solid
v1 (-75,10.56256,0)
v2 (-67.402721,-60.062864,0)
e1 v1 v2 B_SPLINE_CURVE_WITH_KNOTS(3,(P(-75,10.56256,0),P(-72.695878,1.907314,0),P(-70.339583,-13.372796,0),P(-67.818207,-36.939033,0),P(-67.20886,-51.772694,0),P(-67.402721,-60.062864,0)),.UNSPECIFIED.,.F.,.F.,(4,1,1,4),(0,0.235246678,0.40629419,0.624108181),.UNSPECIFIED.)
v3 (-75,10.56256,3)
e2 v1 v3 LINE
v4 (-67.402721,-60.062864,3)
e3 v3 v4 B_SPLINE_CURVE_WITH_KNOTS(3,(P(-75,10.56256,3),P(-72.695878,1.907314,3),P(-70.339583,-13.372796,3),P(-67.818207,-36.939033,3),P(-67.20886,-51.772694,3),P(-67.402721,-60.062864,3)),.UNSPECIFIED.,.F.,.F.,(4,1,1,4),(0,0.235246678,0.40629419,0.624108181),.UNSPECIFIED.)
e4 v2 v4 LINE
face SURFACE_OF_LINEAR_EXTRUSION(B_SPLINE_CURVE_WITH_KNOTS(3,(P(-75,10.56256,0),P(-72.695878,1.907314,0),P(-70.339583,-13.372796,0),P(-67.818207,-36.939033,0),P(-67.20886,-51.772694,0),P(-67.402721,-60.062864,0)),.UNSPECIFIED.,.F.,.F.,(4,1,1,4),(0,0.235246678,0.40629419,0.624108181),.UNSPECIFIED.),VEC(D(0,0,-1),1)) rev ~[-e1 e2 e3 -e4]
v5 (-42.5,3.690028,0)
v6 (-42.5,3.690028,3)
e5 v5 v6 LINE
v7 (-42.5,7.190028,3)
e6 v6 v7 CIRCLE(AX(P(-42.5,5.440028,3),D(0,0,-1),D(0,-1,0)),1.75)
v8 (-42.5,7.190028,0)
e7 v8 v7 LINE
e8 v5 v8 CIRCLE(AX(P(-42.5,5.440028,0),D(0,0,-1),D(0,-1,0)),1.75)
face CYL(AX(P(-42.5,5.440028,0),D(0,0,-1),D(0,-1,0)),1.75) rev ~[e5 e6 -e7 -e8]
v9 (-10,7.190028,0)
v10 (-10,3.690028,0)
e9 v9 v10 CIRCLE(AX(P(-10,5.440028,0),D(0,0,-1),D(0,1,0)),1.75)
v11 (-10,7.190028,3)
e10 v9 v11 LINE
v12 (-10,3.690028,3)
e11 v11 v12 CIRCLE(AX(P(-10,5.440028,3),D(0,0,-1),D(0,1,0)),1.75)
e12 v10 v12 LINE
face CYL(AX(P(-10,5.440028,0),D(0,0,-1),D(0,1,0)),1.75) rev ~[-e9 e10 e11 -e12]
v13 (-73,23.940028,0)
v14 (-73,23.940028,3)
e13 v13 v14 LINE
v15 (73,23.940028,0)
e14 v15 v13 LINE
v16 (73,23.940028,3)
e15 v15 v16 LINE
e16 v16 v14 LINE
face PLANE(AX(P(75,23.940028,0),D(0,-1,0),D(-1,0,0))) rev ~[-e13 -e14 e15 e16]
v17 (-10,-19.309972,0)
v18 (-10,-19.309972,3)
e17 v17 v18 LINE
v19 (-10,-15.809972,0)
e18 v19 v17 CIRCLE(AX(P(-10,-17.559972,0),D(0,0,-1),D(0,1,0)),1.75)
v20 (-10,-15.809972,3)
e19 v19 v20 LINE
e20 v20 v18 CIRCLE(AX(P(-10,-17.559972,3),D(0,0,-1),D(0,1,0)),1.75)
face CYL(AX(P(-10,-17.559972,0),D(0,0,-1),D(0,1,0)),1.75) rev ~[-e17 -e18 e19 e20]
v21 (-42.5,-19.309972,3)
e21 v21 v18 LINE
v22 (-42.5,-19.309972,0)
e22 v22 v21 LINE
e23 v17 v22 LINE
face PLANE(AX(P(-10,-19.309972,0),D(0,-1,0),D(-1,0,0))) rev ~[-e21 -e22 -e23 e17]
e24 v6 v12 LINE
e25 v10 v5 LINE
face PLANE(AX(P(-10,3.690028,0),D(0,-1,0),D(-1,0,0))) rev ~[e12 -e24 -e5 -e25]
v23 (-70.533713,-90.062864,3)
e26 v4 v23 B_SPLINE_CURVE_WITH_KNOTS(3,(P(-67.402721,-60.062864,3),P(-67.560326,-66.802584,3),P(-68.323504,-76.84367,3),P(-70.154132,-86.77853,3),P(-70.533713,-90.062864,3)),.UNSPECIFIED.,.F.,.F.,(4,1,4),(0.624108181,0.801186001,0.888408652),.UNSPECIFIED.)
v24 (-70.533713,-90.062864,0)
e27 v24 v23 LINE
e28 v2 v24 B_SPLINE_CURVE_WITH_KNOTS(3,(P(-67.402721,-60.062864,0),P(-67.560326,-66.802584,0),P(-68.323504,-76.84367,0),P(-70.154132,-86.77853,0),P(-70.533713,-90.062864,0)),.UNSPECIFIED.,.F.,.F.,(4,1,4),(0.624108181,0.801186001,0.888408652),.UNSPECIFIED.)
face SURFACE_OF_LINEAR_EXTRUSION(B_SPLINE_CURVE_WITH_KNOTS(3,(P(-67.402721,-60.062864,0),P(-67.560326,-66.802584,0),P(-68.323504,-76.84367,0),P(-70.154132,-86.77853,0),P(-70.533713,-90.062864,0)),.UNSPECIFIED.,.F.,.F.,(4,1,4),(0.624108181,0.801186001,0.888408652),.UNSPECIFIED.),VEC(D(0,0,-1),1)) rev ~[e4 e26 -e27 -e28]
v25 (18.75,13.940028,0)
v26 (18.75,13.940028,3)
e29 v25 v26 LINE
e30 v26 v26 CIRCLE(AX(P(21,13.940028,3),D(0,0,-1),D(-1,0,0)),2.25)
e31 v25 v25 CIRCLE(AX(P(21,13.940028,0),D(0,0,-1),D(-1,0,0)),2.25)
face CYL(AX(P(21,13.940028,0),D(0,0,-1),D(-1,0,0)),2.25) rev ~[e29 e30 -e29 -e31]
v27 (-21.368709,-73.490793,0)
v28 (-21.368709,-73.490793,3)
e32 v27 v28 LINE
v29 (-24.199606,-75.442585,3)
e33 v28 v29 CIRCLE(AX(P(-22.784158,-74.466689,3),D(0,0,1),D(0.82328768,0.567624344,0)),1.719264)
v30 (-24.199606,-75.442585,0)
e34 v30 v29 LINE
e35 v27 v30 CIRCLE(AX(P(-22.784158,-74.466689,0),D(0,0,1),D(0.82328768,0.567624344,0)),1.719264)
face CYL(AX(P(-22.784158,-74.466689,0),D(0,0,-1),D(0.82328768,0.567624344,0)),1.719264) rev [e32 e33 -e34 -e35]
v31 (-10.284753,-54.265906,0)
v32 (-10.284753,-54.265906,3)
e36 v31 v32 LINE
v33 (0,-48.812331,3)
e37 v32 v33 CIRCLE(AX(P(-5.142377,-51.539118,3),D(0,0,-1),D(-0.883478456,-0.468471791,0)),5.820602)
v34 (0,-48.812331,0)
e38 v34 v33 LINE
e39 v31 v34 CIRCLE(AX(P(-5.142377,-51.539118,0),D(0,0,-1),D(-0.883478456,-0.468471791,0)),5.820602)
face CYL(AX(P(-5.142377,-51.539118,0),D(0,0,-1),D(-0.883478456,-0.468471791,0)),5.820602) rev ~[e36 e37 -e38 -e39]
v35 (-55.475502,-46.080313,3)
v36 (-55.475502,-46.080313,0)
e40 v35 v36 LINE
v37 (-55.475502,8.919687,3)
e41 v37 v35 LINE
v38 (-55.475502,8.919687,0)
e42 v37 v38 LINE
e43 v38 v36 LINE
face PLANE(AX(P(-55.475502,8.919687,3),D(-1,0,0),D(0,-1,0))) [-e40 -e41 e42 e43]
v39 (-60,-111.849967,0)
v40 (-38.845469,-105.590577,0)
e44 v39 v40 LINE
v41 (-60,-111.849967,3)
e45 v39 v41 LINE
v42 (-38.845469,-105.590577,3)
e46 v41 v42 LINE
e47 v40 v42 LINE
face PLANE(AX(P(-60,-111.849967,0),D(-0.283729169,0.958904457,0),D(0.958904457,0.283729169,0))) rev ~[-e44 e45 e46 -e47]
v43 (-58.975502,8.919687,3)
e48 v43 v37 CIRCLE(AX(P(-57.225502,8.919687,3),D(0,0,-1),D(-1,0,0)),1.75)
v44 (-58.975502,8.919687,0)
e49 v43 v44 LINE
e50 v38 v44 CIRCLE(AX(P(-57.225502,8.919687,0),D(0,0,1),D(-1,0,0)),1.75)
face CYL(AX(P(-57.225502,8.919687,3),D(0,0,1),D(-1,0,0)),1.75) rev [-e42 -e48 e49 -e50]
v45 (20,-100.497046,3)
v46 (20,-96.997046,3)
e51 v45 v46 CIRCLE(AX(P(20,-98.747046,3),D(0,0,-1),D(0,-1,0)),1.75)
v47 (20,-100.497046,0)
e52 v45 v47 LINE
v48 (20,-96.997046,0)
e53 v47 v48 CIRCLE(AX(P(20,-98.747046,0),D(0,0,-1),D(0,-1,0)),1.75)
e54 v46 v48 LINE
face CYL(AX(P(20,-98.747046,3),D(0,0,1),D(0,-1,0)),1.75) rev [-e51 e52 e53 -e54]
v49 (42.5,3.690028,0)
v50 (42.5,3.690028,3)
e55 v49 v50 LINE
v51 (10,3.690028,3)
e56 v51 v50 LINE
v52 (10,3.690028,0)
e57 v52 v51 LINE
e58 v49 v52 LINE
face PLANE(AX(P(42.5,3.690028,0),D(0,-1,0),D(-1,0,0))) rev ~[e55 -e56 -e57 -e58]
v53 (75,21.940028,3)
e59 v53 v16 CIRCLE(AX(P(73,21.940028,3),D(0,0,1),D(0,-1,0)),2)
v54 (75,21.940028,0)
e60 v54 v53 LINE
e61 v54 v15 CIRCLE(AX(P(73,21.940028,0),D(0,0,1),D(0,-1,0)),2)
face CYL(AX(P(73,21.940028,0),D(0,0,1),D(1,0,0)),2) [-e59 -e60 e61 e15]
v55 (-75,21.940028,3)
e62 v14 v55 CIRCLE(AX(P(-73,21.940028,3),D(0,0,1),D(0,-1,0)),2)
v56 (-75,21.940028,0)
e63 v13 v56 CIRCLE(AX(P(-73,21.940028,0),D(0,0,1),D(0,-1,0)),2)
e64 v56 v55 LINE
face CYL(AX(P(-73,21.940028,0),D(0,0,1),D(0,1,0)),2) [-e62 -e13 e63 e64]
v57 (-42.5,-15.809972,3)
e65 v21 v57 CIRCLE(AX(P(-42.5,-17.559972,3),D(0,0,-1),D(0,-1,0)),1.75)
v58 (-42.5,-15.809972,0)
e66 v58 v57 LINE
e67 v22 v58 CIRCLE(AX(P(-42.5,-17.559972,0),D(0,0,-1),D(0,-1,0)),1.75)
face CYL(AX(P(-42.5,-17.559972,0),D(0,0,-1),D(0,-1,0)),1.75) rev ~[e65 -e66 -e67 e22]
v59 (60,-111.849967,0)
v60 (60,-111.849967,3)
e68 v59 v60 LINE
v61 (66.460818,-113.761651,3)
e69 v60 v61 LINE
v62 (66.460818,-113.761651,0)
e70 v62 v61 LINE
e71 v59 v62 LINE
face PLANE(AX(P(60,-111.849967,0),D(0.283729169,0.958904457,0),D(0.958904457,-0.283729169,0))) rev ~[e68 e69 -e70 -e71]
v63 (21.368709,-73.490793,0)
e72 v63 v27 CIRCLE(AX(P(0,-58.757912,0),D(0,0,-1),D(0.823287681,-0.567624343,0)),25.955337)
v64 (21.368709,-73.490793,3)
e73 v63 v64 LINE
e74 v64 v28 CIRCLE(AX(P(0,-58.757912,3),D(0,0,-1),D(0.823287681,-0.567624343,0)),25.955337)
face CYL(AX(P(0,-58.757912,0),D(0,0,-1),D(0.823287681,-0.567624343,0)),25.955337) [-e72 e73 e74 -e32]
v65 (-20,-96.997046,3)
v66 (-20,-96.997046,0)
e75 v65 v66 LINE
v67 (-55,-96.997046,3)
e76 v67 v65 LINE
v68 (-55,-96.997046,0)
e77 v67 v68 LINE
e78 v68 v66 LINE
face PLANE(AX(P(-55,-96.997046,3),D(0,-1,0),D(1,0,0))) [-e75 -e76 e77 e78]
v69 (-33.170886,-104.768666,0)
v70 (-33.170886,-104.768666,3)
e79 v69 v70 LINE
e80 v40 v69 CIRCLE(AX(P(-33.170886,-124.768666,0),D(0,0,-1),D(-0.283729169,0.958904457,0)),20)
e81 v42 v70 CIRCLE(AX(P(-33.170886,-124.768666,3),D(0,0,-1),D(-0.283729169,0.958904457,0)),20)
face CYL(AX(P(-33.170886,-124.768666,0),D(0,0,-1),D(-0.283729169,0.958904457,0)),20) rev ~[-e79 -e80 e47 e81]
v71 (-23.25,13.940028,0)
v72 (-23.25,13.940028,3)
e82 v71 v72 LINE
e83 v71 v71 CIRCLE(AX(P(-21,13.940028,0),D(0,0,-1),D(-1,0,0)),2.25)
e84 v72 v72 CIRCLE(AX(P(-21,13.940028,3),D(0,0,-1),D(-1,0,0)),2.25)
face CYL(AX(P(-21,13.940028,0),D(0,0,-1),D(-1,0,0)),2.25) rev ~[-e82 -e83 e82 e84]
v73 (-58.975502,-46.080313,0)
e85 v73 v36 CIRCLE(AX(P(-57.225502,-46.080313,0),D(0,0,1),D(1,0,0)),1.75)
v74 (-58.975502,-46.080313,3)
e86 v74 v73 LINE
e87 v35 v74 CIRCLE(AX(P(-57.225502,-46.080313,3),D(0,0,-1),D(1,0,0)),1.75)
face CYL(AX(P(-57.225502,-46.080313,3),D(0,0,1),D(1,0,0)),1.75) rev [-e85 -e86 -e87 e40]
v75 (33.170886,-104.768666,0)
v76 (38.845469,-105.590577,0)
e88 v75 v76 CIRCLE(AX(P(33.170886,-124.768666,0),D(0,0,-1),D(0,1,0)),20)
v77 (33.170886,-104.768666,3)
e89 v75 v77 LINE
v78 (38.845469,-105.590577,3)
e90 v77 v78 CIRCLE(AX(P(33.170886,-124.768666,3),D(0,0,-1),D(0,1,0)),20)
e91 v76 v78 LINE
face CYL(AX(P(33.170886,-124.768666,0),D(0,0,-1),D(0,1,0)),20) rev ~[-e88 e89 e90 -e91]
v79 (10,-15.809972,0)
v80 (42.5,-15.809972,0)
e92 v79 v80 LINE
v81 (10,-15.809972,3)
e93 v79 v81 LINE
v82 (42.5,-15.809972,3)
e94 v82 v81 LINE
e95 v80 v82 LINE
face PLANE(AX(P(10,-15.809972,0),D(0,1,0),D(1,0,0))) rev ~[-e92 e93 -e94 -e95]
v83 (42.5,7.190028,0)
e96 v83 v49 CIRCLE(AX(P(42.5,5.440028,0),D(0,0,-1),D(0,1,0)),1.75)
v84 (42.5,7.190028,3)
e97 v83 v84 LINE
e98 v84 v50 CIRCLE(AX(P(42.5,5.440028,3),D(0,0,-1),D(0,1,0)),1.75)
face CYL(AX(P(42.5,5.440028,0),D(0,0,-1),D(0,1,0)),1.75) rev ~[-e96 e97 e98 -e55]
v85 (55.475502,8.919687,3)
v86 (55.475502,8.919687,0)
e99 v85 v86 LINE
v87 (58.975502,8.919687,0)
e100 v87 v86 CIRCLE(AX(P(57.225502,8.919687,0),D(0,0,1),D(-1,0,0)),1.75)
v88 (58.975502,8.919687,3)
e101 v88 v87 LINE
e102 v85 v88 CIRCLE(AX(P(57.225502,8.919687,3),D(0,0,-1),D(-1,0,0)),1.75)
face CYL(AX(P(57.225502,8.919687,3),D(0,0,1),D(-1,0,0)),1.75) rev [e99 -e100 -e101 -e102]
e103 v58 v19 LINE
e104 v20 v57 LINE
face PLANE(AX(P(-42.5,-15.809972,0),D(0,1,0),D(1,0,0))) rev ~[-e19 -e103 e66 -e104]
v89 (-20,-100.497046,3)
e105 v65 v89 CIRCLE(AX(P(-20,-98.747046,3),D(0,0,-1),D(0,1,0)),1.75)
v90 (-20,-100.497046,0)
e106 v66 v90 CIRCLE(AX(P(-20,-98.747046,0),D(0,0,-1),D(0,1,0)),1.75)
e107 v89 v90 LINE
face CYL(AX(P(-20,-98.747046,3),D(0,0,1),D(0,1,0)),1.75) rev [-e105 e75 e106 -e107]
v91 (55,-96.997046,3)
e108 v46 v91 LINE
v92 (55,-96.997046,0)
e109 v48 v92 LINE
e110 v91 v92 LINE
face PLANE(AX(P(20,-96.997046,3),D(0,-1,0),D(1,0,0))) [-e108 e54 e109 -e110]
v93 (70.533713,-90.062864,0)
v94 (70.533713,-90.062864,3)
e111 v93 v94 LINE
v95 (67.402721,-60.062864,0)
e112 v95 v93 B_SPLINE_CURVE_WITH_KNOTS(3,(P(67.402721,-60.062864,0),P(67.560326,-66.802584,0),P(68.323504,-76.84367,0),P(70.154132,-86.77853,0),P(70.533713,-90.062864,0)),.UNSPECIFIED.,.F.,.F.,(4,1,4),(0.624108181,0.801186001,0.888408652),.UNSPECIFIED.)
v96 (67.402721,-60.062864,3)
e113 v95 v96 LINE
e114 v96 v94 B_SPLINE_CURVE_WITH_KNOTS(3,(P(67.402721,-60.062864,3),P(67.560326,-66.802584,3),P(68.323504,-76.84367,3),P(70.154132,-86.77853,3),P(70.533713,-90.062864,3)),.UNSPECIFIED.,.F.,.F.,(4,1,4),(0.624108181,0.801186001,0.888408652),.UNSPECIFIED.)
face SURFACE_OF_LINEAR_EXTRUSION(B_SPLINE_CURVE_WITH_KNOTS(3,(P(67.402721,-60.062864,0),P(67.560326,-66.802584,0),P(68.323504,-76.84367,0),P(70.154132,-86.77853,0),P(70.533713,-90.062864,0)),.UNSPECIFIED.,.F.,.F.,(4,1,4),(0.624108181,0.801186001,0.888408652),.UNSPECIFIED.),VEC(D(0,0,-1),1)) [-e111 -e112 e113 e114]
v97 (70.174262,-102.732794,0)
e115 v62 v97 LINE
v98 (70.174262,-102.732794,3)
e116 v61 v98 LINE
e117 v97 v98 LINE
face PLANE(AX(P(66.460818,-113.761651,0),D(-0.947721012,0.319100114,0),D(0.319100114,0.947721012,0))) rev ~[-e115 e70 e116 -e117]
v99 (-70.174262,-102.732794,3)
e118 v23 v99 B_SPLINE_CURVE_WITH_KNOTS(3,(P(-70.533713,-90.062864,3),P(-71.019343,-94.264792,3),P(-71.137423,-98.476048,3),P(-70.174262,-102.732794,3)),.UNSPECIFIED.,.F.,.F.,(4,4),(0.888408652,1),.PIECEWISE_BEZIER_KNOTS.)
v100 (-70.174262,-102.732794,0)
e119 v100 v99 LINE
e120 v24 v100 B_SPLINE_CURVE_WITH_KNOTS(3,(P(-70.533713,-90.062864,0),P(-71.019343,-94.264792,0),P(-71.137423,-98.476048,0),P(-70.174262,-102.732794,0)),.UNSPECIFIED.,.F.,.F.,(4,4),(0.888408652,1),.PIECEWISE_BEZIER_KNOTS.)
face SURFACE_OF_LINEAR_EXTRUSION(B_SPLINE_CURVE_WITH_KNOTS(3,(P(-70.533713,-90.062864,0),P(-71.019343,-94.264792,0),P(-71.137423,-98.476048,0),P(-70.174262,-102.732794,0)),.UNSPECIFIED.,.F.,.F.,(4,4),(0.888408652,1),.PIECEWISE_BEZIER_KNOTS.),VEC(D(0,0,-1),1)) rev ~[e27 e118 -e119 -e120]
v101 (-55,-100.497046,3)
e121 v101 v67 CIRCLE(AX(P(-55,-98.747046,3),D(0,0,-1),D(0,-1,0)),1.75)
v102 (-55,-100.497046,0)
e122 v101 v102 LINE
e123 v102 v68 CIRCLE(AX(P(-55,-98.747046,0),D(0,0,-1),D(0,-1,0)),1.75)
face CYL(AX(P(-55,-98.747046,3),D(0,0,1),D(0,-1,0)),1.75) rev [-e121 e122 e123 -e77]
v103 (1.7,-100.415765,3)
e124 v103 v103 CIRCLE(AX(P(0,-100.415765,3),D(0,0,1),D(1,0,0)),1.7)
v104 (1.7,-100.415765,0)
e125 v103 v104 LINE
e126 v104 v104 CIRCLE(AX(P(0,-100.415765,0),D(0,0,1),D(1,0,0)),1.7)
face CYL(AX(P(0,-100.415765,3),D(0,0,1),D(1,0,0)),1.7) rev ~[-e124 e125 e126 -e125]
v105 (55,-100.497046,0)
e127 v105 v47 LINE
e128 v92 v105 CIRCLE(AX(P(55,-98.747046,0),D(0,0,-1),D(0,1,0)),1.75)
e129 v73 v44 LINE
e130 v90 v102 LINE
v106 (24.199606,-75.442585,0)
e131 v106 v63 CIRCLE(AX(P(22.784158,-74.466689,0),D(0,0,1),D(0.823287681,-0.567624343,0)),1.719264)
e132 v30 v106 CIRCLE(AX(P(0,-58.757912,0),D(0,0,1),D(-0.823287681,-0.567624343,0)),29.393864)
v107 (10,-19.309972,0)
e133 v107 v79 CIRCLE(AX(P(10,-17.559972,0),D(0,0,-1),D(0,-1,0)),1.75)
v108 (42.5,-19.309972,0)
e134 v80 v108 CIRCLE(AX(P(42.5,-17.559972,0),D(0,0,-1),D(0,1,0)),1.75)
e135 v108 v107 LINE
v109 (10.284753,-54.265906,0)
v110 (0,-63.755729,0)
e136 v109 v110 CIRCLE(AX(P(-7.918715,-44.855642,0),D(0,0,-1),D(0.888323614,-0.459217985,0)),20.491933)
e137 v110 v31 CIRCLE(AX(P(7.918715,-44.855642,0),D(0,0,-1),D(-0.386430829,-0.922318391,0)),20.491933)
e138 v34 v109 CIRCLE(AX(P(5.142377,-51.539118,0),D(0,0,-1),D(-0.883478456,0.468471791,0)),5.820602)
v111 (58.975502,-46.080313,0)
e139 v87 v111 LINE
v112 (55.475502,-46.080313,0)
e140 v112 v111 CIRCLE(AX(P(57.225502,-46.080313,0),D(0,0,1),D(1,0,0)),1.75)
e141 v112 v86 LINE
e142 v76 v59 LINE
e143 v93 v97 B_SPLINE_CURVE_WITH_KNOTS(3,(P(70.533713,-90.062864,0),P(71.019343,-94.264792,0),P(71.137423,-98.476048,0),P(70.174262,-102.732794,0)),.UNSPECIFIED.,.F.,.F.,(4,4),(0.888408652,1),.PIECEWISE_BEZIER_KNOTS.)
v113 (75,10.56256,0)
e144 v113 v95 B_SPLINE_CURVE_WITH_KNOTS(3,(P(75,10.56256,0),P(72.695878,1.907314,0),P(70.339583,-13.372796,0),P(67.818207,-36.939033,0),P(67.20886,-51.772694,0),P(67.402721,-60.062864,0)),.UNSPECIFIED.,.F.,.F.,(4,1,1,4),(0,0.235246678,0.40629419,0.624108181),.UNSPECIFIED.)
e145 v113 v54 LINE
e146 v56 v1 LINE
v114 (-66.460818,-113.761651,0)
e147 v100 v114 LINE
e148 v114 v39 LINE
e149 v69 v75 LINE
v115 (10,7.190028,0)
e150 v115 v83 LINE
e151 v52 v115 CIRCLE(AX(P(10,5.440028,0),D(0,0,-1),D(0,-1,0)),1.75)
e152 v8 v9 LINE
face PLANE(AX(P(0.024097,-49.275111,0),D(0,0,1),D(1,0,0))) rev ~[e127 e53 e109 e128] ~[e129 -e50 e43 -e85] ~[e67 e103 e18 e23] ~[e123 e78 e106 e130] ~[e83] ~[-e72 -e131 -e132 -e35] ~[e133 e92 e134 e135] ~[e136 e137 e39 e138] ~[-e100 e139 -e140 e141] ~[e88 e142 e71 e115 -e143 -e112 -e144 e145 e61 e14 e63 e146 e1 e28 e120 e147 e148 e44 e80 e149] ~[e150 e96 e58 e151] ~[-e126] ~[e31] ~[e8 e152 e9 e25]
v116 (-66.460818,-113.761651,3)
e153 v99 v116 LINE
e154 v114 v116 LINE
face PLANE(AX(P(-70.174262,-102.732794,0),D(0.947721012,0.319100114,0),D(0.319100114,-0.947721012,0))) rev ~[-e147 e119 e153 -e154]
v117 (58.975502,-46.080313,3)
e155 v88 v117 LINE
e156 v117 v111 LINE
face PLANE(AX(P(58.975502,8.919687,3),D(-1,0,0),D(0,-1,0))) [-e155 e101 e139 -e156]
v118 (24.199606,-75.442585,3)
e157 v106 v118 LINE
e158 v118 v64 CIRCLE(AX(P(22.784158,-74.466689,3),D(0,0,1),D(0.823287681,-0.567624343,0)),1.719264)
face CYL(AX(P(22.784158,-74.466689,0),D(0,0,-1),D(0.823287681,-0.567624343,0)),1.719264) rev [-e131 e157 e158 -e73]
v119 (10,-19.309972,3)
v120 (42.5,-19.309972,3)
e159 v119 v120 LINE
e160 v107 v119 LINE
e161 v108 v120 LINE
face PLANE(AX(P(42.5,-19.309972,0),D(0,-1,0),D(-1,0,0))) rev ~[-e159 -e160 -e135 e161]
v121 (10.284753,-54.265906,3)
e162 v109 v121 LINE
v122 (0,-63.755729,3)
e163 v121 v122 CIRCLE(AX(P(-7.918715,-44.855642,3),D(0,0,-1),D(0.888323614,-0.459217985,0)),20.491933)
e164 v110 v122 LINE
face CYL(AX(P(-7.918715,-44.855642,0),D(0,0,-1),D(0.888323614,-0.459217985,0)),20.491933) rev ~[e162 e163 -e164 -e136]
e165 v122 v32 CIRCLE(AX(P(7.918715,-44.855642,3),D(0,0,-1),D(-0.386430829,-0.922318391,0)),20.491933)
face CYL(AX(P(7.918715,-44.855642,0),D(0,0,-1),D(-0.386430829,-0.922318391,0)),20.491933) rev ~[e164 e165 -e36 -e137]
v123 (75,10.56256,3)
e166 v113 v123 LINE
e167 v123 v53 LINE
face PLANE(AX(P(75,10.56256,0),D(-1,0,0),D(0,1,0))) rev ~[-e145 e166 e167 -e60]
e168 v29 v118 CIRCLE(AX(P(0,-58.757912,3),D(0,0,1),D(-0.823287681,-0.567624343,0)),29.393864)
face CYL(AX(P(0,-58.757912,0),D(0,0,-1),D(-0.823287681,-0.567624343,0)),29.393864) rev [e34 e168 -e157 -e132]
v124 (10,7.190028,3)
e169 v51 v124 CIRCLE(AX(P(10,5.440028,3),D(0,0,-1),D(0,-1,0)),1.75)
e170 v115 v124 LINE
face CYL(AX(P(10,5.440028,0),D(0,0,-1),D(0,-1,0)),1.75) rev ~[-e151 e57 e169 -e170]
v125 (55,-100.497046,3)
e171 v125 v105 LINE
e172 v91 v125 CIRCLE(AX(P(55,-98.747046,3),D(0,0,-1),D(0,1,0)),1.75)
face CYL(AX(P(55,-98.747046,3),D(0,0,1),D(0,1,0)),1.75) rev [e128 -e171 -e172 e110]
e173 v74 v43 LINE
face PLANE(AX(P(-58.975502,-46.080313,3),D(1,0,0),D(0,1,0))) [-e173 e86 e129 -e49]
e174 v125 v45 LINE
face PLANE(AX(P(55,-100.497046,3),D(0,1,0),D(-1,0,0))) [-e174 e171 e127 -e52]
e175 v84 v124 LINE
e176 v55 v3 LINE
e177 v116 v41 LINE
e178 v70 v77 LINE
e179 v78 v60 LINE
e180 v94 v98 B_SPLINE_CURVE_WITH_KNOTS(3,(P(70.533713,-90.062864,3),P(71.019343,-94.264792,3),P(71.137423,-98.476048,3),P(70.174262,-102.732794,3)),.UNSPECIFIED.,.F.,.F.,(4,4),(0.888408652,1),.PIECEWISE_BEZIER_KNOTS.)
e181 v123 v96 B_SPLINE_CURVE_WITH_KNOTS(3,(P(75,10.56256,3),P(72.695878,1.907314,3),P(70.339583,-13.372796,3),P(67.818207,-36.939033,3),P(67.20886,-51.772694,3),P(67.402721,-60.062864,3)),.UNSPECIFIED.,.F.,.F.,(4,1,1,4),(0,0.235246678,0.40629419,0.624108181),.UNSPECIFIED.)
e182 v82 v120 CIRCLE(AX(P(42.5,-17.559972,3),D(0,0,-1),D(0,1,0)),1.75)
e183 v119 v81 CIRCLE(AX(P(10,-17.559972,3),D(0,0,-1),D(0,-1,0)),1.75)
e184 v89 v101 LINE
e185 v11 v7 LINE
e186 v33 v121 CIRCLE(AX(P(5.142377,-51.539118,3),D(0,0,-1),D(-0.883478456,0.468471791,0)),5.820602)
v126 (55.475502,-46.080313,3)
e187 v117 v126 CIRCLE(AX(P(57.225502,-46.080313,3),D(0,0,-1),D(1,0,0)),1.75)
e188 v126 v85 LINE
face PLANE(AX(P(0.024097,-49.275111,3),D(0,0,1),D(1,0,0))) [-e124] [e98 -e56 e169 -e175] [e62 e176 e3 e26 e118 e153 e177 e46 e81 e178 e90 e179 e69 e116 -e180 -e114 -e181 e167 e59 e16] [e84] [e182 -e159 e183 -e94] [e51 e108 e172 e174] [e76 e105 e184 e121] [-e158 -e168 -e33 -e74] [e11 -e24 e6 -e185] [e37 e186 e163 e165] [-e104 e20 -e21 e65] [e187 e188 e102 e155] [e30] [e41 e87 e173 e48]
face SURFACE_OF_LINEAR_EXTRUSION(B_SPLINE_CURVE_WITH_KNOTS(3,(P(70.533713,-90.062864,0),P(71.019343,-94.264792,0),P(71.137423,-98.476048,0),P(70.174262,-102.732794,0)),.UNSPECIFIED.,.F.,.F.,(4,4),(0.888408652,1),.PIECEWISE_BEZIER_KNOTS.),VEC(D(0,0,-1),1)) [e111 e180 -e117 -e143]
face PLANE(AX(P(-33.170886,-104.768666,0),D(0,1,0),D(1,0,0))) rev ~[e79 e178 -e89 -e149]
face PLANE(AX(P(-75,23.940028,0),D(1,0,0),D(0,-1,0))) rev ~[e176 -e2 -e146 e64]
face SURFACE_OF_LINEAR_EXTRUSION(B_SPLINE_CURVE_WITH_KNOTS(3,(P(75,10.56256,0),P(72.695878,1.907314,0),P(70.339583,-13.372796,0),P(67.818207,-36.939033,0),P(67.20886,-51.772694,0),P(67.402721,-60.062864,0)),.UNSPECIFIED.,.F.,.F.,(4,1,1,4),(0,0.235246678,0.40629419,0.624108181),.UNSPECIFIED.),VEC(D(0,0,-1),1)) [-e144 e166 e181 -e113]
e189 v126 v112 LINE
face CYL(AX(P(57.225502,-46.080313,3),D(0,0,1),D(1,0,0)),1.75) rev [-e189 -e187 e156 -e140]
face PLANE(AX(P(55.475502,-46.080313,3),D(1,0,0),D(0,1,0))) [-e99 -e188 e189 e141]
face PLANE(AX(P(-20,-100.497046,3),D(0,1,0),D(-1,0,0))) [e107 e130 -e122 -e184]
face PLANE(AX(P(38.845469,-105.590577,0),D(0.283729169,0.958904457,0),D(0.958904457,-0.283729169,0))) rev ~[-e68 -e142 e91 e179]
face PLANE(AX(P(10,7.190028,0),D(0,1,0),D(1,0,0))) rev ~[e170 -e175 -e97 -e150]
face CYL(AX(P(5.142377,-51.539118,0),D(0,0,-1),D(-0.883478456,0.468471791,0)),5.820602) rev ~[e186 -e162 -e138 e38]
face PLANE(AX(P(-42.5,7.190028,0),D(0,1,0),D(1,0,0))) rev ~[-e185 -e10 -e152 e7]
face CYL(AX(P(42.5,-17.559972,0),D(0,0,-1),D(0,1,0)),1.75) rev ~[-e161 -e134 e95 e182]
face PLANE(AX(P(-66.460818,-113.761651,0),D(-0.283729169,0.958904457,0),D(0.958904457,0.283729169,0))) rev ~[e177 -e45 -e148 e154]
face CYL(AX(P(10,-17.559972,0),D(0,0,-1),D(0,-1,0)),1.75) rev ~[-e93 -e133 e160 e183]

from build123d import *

# Parameters (mm, degrees)
EXTRUDE_1_DEPTH      = 3
SKETCH_7_R           = 1.75
SKETCH_7_R_2         = 2.25
CUT_EXTRUDE_2_DEPTH  = 143.955430949
CUT_EXTRUDE_4_DEPTH  = 3
CUT_EXTRUDE_5_DEPTH  = 3
CUT_EXTRUDE_8_DEPTH  = 3
SKETCH_12_R          = 1.7
CUT_EXTRUDE_9_DEPTH  = 3
SKETCH_13_R          = 1.7
CUT_EXTRUDE_11_DEPTH = 3
CUT_EXTRUDE_12_DEPTH = 143.955430949
FILLET_1_R           = 2
FILLET_2_R           = 2
CUT_EXTRUDE_13_DEPTH = 143.955430949
CUT_EXTRUDE_15_DEPTH = 143.955430949
CUT_EXTRUDE_16_DEPTH = 143.955430949
SKETCH_20_W          = 133.80338819
SKETCH_20_H          = 42.989432067
EXTRUDE_2_DEPTH      = 3
SKETCH_21_W          = 129.207272524
SKETCH_21_H          = 38.788932745
EXTRUDE_3_DEPTH      = 3
SKETCH_22_W          = 20.868569364
SKETCH_22_H          = 31.210515244
SKETCH_22_W_2        = 21.053246969
SKETCH_22_H_2        = 30.102449614
EXTRUDE_4_DEPTH      = 3
SKETCH_24_W          = 36.300662223
SKETCH_24_H          = 5.953308604
SKETCH_24_W_2        = 36.591067521
EXTRUDE_5_DEPTH      = 3
CUT_EXTRUDE_17_DEPTH = 143.955430949
CUT_EXTRUDE_19_DEPTH = 143.955430949
CUT_EXTRUDE_20_DEPTH = 143.955430949
CUT_EXTRUDE_21_DEPTH = 143.955430949
CUT_EXTRUDE_22_DEPTH = 143.955430949
CUT_EXTRUDE_23_DEPTH = 3
SKETCH_30_W          = 197.327919909
SKETCH_30_H          = 109.793735926
CUT_EXTRUDE_24_DEPTH = 10


with BuildPart() as part:
    # 草图1 → 凸台-拉伸1 (new body)
    with BuildSketch(Plane.XY):
        with BuildLine():
            Line((60, 106.603296002), (35.889163634, 121.664519159))
            Line((35.889163634, 121.664519159), (-35.889163634, 121.664519159))
            Line((-35.889163634, 121.664519159), (-60, 106.603296002))
            Line((-60, 106.603296002), (-60, 94.801892265))
            Line((-60, 94.801892265), (-45, 94.801892265))
            ThreePointArc((-45, 94.801892265), (-43.762563133, 94.289329132), (-43.25, 93.051892265))
            Line((-43.25, 93.051892265), (-37.75, 93.051892265))
            ThreePointArc((-37.75, 93.051892265), (-37.237436867, 94.289329132), (-36, 94.801892265))
            Line((-36, 94.801892265), (-21, 94.801892265))
            ThreePointArc((-21, 94.801892265), (-19.762563133, 94.289329132), (-19.25, 93.051892265))
            Line((-19.25, 93.051892265), (19.25, 93.051892265))
            ThreePointArc((19.25, 93.051892265), (19.762563133, 94.289329132), (21, 94.801892265))
            Line((21, 94.801892265), (36, 94.801892265))
            ThreePointArc((36, 94.801892265), (37.237436867, 94.289329132), (37.75, 93.051892265))
            Line((37.75, 93.051892265), (43.25, 93.051892265))
            ThreePointArc((43.25, 93.051892265), (43.762563133, 94.289329132), (45, 94.801892265))
            Line((45, 94.801892265), (60, 94.801892265))
            Line((60, 94.801892265), (60, 106.603296002))
        make_face()
        with BuildLine():
            Line((66.901694095, 102.292041372), (60, 106.603296002))
            Line((60, 106.603296002), (60, 94.801892265))
            ThreePointArc((60, 94.801892265), (61.237436867, 94.289329132), (61.75, 93.051892265))
            Line((61.75, 93.051892265), (66.901694095, 93.051892265))
            Line((66.901694095, 93.051892265), (66.901694095, 102.292041372))
        make_face()
        with BuildLine():
            Line((-60, 94.801892265), (-60, 106.603296002))
            Line((-60, 106.603296002), (-66.901694095, 102.292041372))
            Line((-66.901694095, 102.292041372), (-66.901694095, 93.051892265))
            Line((-66.901694095, 93.051892265), (-61.75, 93.051892265))
            ThreePointArc((-61.75, 93.051892265), (-61.237436867, 94.289329132), (-60, 94.801892265))
        make_face()
        with BuildLine():
            Line((66.901694095, 63.051892265), (66.901694095, 93.051892265))
            Line((66.901694095, 93.051892265), (61.75, 93.051892265))
            ThreePointArc((61.75, 93.051892265), (61.237436867, 91.814455398), (60, 91.301892265))
            Line((60, 91.301892265), (60, 64.801892265))
            ThreePointArc((60, 64.801892265), (61.237436867, 64.289329132), (61.75, 63.051892265))
            Line((61.75, 63.051892265), (66.901694095, 63.051892265))
        make_face()
        with BuildLine():
            Line((-61.75, 93.051892265), (-66.901694095, 93.051892265))
            Line((-66.901694095, 93.051892265), (-66.901694095, 63.051892265))
            Line((-66.901694095, 63.051892265), (-61.75, 63.051892265))
            ThreePointArc((-61.75, 63.051892265), (-61.237436867, 64.289329132), (-60, 64.801892265))
            Line((-60, 64.801892265), (-60, 91.301892265))
            ThreePointArc((-60, 91.301892265), (-61.237436867, 91.814455398), (-61.75, 93.051892265))
        make_face()
        with BuildLine():
            Line((66.901694095, 52.870133869), (66.901694095, 63.051892265))
            Line((66.901694095, 63.051892265), (61.75, 63.051892265))
            ThreePointArc((61.75, 63.051892265), (61.237436867, 61.814455398), (60, 61.301892265))
            Line((60, 61.301892265), (60, 31.261343001))
            Line((60, 31.261343001), (75, 31.261343001))
            Line((75, 31.261343001), (75, 40.933889795))
            ThreePointArc((75, 40.933889795), (69.117351927, 45.658052319), (66.901694095, 52.870133869))
        make_face()
        with BuildLine():
            Line((60, 64.801892265), (60, 91.301892265))
            Line((60, 91.301892265), (45, 91.301892265))
            ThreePointArc((45, 91.301892265), (43.762563133, 91.814455398), (43.25, 93.051892265))
            Line((43.25, 93.051892265), (37.75, 93.051892265))
            ThreePointArc((37.75, 93.051892265), (37.237436867, 91.814455398), (36, 91.301892265))
            Line((36, 91.301892265), (21, 91.301892265))
            ThreePointArc((21, 91.301892265), (19.762563133, 91.814455398), (19.25, 93.051892265))
            Line((19.25, 93.051892265), (-19.25, 93.051892265))
            ThreePointArc((-19.25, 93.051892265), (-19.762563133, 91.814455398), (-21, 91.301892265))
            Line((-21, 91.301892265), (-36, 91.301892265))
            ThreePointArc((-36, 91.301892265), (-37.237436867, 91.814455398), (-37.75, 93.051892265))
            Line((-37.75, 93.051892265), (-43.25, 93.051892265))
            ThreePointArc((-43.25, 93.051892265), (-43.762563133, 91.814455398), (-45, 91.301892265))
            Line((-45, 91.301892265), (-60, 91.301892265))
            Line((-60, 91.301892265), (-60, 64.801892265))
            Line((-60, 64.801892265), (-45, 64.801892265))
            ThreePointArc((-45, 64.801892265), (-43.762563133, 64.289329132), (-43.25, 63.051892265))
            Line((-43.25, 63.051892265), (-37.75, 63.051892265))
            ThreePointArc((-37.75, 63.051892265), (-37.237436867, 64.289329132), (-36, 64.801892265))
            Line((-36, 64.801892265), (-21, 64.801892265))
            ThreePointArc((-21, 64.801892265), (-19.762563133, 64.289329132), (-19.25, 63.051892265))
            Line((-19.25, 63.051892265), (19.25, 63.051892265))
            ThreePointArc((19.25, 63.051892265), (19.762563133, 64.289329132), (21, 64.801892265))
            Line((21, 64.801892265), (36, 64.801892265))
            ThreePointArc((36, 64.801892265), (37.237436867, 64.289329132), (37.75, 63.051892265))
            Line((37.75, 63.051892265), (43.25, 63.051892265))
            ThreePointArc((43.25, 63.051892265), (43.762563133, 64.289329132), (45, 64.801892265))
            Line((45, 64.801892265), (60, 64.801892265))
        make_face()
        with BuildLine():
            Line((-61.75, 63.051892265), (-66.901694095, 63.051892265))
            Line((-66.901694095, 63.051892265), (-66.901694095, 52.870133869))
            ThreePointArc((-66.901694095, 52.870133869), (-69.117351927, 45.658052319), (-75, 40.933889795))
            Line((-75, 40.933889795), (-75, 31.261343001))
            Line((-75, 31.261343001), (-60, 31.261343001))
            Line((-60, 31.261343001), (-60, 61.301892265))
            ThreePointArc((-60, 61.301892265), (-61.237436867, 61.814455398), (-61.75, 63.051892265))
        make_face()
        with BuildLine():
            Line((60, 31.261343001), (60, 61.301892265))
            Line((60, 61.301892265), (45, 61.301892265))
            ThreePointArc((45, 61.301892265), (43.762563133, 61.814455398), (43.25, 63.051892265))
            Line((43.25, 63.051892265), (37.75, 63.051892265))
            ThreePointArc((37.75, 63.051892265), (37.237436867, 61.814455398), (36, 61.301892265))
            Line((36, 61.301892265), (21, 61.301892265))
            ThreePointArc((21, 61.301892265), (19.762563133, 61.814455398), (19.25, 63.051892265))
            Line((19.25, 63.051892265), (-19.25, 63.051892265))
            ThreePointArc((-19.25, 63.051892265), (-19.762563133, 61.814455398), (-21, 61.301892265))
            Line((-21, 61.301892265), (-36, 61.301892265))
            ThreePointArc((-36, 61.301892265), (-37.237436867, 61.814455398), (-37.75, 63.051892265))
            Line((-37.75, 63.051892265), (-43.25, 63.051892265))
            ThreePointArc((-43.25, 63.051892265), (-43.762563133, 61.814455398), (-45, 61.301892265))
            Line((-45, 61.301892265), (-60, 61.301892265))
            Line((-60, 61.301892265), (-60, 31.261343001))
            Line((-60, 31.261343001), (60, 31.261343001))
        make_face()
        with BuildLine():
            Line((60, -58.312864289), (60, 23.940028391))
            Line((60, 23.940028391), (-60, 23.940028391))
            Line((-60, 23.940028391), (-60, -58.312864289))
            Line((-60, -58.312864289), (-45, -58.312864289))
            ThreePointArc((-45, -58.312864289), (-43.25, -60.062864289), (-45, -61.812864289))
            Line((-45, -61.812864289), (-60, -61.812864289))
            Line((-60, -61.812864289), (-60, -88.312864289))
            Line((-60, -88.312864289), (-45, -88.312864289))
            ThreePointArc((-45, -88.312864289), (-43.25, -90.062864289), (-45, -91.812864289))
            Line((-45, -91.812864289), (-60, -91.812864289))
            Line((-60, -91.812864289), (-60, -111.849967256))
            Line((-60, -111.849967256), (-38.845469114, -105.590576733))
            ThreePointArc((-38.845469114, -105.590576733), (-36.037784492, -104.975210108), (-33.17088573, -104.768665882))
            Line((-33.17088573, -104.768665882), (33.17088573, -104.768665882))
            ThreePointArc((33.17088573, -104.768665882), (36.037784492, -104.975210108), (38.845469114, -105.590576733))
            Line((38.845469114, -105.590576733), (60, -111.849967256))
            Line((60, -111.849967256), (60, -91.812864289))
            Line((60, -91.812864289), (45, -91.812864289))
            ThreePointArc((45, -91.812864289), (43.762563133, -91.300301156), (43.25, -90.062864289))
            ThreePointArc((43.25, -90.062864289), (43.762563133, -88.825427422), (45, -88.312864289))
            Line((45, -88.312864289), (60, -88.312864289))
            Line((60, -88.312864289), (60, -61.812864289))
            Line((60, -61.812864289), (45, -61.812864289))
            ThreePointArc((45, -61.812864289), (43.762563133, -61.300301156), (43.25, -60.062864289))
            ThreePointArc((43.25, -60.062864289), (43.762563133, -58.825427422), (45, -58.312864289))
            Line((45, -58.312864289), (60, -58.312864289))
        make_face()
        with BuildLine():
            ThreePointArc((-21, -88.312864289), (-19.762563133, -88.825427422), (-19.25, -90.062864289))
            ThreePointArc((-19.25, -90.062864289), (-19.762563133, -91.300301156), (-21, -91.812864289))
            Line((-21, -91.812864289), (-36, -91.812864289))
            ThreePointArc((-36, -91.812864289), (-37.75, -90.062864289), (-36, -88.312864289))
            Line((-36, -88.312864289), (-21, -88.312864289))
        make_face(mode=Mode.SUBTRACT)
        with BuildLine():
            ThreePointArc((-21, -58.312864289), (-19.762563133, -58.825427422), (-19.25, -60.062864289))
            ThreePointArc((-19.25, -60.062864289), (-19.762563133, -61.300301156), (-21, -61.812864289))
            Line((-21, -61.812864289), (-36, -61.812864289))
            ThreePointArc((-36, -61.812864289), (-37.75, -60.062864289), (-36, -58.312864289))
            Line((-36, -58.312864289), (-21, -58.312864289))
        make_face(mode=Mode.SUBTRACT)
        with BuildLine():
            ThreePointArc((36, -88.312864289), (37.237436867, -88.825427422), (37.75, -90.062864289))
            ThreePointArc((37.75, -90.062864289), (37.237436867, -91.300301156), (36, -91.812864289))
            Line((36, -91.812864289), (21, -91.812864289))
            ThreePointArc((21, -91.812864289), (19.762563133, -91.300301156), (19.25, -90.062864289))
            ThreePointArc((19.25, -90.062864289), (19.762563133, -88.825427422), (21, -88.312864289))
            Line((21, -88.312864289), (36, -88.312864289))
        make_face(mode=Mode.SUBTRACT)
        with BuildLine():
            ThreePointArc((36, -58.312864289), (37.237436867, -58.825427422), (37.75, -60.062864289))
            ThreePointArc((37.75, -60.062864289), (37.237436867, -61.300301156), (36, -61.812864289))
            Line((36, -61.812864289), (21, -61.812864289))
            ThreePointArc((21, -61.812864289), (19.762563133, -61.300301156), (19.25, -60.062864289))
            ThreePointArc((19.25, -60.062864289), (19.762563133, -58.825427422), (21, -58.312864289))
            Line((21, -58.312864289), (36, -58.312864289))
        make_face(mode=Mode.SUBTRACT)
        with BuildLine():
            Line((75, 23.940028391), (60, 23.940028391))
            Line((60, 23.940028391), (60, -58.312864289))
            ThreePointArc((60, -58.312864289), (61.237436867, -58.825427422), (61.75, -60.062864289))
            Line((61.75, -60.062864289), (67.402721334, -60.062864289))
            add(Edge.make_bspline(
                [(75, 10.562559835), (72.695878257, 1.907314233), (70.339582535, -13.372796253), (67.818206704, -36.939032951), (67.208860388, -51.77269444), (67.402721334, -60.062864289)],
                knots=[0, 0, 0, 0, 0.235246678, 0.40629419, 0.624108181, 0.624108181, 0.624108181, 0.624108181], degree=3))
            Line((75, 10.562559835), (75, 23.940028391))
        make_face()
        with BuildLine():
            Line((-60, -58.312864289), (-60, 23.940028391))
            Line((-60, 23.940028391), (-75, 23.940028391))
            Line((-75, 23.940028391), (-75, 10.562559835))
            add(Edge.make_bspline(
                [(-75, 10.562559835), (-72.695878257, 1.907314233), (-70.339582535, -13.372796253), (-67.818206704, -36.939032951), (-67.208860388, -51.77269444), (-67.402721334, -60.062864289)],
                knots=[0, 0, 0, 0, 0.235246678, 0.40629419, 0.624108181, 0.624108181, 0.624108181, 0.624108181], degree=3))
            add(Edge.make_bspline(
                [(-67.402721334, -60.062864289), (-67.560325872, -66.802583754), (-68.323504015, -76.843670093), (-70.154131955, -86.778530076), (-70.533712858, -90.062864289)],
                knots=[0.624108181, 0.624108181, 0.624108181, 0.624108181, 0.801186001, 0.888408652, 0.888408652, 0.888408652, 0.888408652], degree=3))
            add(Edge.make_bspline(
                [(-70.533712858, -90.062864289), (-71.019342956, -94.264792095), (-71.137422935, -98.476048206), (-70.1742624, -102.732794059)],
                knots=[0.888408652, 0.888408652, 0.888408652, 0.888408652, 1, 1, 1, 1], degree=3))
            Line((-70.1742624, -102.732794059), (-66.460817635, -113.761651372))
            Line((-66.460817635, -113.761651372), (-60, -111.849967256))
            Line((-60, -111.849967256), (-60, -91.812864289))
            ThreePointArc((-60, -91.812864289), (-61.75, -90.062864289), (-60, -88.312864289))
            Line((-60, -88.312864289), (-60, -61.812864289))
            ThreePointArc((-60, -61.812864289), (-61.75, -60.062864289), (-60, -58.312864289))
        make_face()
        with BuildLine():
            Line((67.402721334, -60.062864289), (61.75, -60.062864289))
            ThreePointArc((61.75, -60.062864289), (61.237436867, -61.300301156), (60, -61.812864289))
            Line((60, -61.812864289), (60, -88.312864289))
            ThreePointArc((60, -88.312864289), (61.237436867, -88.825427422), (61.75, -90.062864289))
            Line((61.75, -90.062864289), (70.533712858, -90.062864289))
            add(Edge.make_bspline(
                [(67.402721334, -60.062864289), (67.560325872, -66.802583754), (68.323504015, -76.843670093), (70.154131955, -86.778530076), (70.533712858, -90.062864289)],
                knots=[0.624108181, 0.624108181, 0.624108181, 0.624108181, 0.801186001, 0.888408652, 0.888408652, 0.888408652, 0.888408652], degree=3))
        make_face()
        with BuildLine():
            add(Edge.make_bspline(
                [(70.533712858, -90.062864289), (71.019342956, -94.264792095), (71.137422935, -98.476048206), (70.1742624, -102.732794059)],
                knots=[0.888408652, 0.888408652, 0.888408652, 0.888408652, 1, 1, 1, 1], degree=3))
            Line((70.533712858, -90.062864289), (61.75, -90.062864289))
            ThreePointArc((61.75, -90.062864289), (61.237436867, -91.300301156), (60, -91.812864289))
            Line((60, -91.812864289), (60, -111.849967256))
            Line((60, -111.849967256), (66.460817635, -113.761651372))
            Line((66.460817635, -113.761651372), (70.1742624, -102.732794059))
        make_face()
    extrude(amount=EXTRUDE_1_DEPTH)

    # 草图7 → 切除-拉伸2 (cut, through all)
    with BuildSketch(Plane(origin=(0, 0, 0), x_dir=(-1, 0, 0), z_dir=(0, 0, -1))):
        with Locations((-21, 41.261343001)):
            Circle(SKETCH_7_R)
        with Locations((21, 41.261343001)):
            Circle(SKETCH_7_R)
        with Locations((-21, 13.940028391)):
            Circle(SKETCH_7_R_2)
        with Locations((21, 13.940028391)):
            Circle(SKETCH_7_R_2)
    extrude(amount=-CUT_EXTRUDE_2_DEPTH, mode=Mode.SUBTRACT)

    # 草图9 → 切除-拉伸4 (cut)
    with BuildSketch(Plane.XY.offset(3)):
        with BuildLine():
            Line((55, -100.49704609), (20, -100.49704609))
            ThreePointArc((20, -100.49704609), (18.25, -98.74704609), (20, -96.99704609))
            Line((20, -96.99704609), (55, -96.99704609))
            ThreePointArc((55, -96.99704609), (56.75, -98.74704609), (55, -100.49704609))
        make_face()
        with BuildLine():
            Line((-55, -96.99704609), (-20, -96.99704609))
            ThreePointArc((-20, -96.99704609), (-18.25, -98.74704609), (-20, -100.49704609))
            Line((-20, -100.49704609), (-55, -100.49704609))
            ThreePointArc((-55, -100.49704609), (-56.75, -98.74704609), (-55, -96.99704609))
        make_face()
    extrude(amount=-CUT_EXTRUDE_4_DEPTH, mode=Mode.SUBTRACT)

    # 草图10 → 切除-拉伸5 (cut)
    with BuildSketch(Plane.XY.offset(3)):
        with BuildLine():
            Line((12.5, -80.062864289), (-12.5, -80.062864289))
            ThreePointArc((-12.5, -80.062864289), (-17.5, -75.062864289), (-12.5, -70.062864289))
            Line((-12.5, -70.062864289), (12.5, -70.062864289))
            ThreePointArc((12.5, -70.062864289), (17.5, -75.062864289), (12.5, -80.062864289))
        make_face()
    extrude(amount=-CUT_EXTRUDE_5_DEPTH, mode=Mode.SUBTRACT)

    # 草图11 → 切除-拉伸8 (cut)
    with BuildSketch(Plane.XY.offset(3)):
        with BuildLine():
            Line((15, 73.051892265), (-15, 73.051892265))
            ThreePointArc((-15, 73.051892265), (-20, 78.051892265), (-15, 83.051892265))
            Line((-15, 83.051892265), (15, 83.051892265))
            ThreePointArc((15, 83.051892265), (20, 78.051892265), (15, 73.051892265))
        make_face()
    extrude(amount=-CUT_EXTRUDE_8_DEPTH, mode=Mode.SUBTRACT)

    # 草图12 → 切除-拉伸9 (cut)
    with BuildSketch(Plane.XY.offset(3)):
        with Locations((0, 114.371786435)):
            Circle(SKETCH_12_R)
        with Locations((0, 98.371786435)):
            Circle(SKETCH_12_R)
        with Locations((8, 106.371786435)):
            Circle(SKETCH_12_R)
        with Locations((-8, 106.371786435)):
            Circle(SKETCH_12_R)
    extrude(amount=-CUT_EXTRUDE_9_DEPTH, mode=Mode.SUBTRACT)

    # 草图13 → 切除-拉伸11 (cut)
    with BuildSketch(Plane.XY.offset(3)):
        with Locations((0, -84.415765086)):
            Circle(SKETCH_13_R)
        with Locations((8, -92.415765086)):
            Circle(SKETCH_13_R)
        with Locations((0, -100.415765086)):
            Circle(SKETCH_13_R)
        with Locations((-8, -92.415765086)):
            Circle(SKETCH_13_R)
    extrude(amount=-CUT_EXTRUDE_11_DEPTH, mode=Mode.SUBTRACT)

    # 草图14 → 切除-拉伸12 (cut, through all)
    with BuildSketch(Plane.XY.offset(3)):
        with BuildLine():
            Line((-55.475501567, 8.919687236), (-55.475501567, -46.080312764))
            ThreePointArc((-55.475501567, -46.080312764), (-57.225501567, -47.830312764), (-58.975501567, -46.080312764))
            Line((-58.975501567, -46.080312764), (-58.975501567, 8.919687236))
            ThreePointArc((-58.975501567, 8.919687236), (-57.225501567, 10.669687236), (-55.475501567, 8.919687236))
        make_face()
        with BuildLine():
            Line((58.975501567, 8.919687236), (58.975501567, -46.080312764))
            ThreePointArc((58.975501567, -46.080312764), (57.225501567, -47.830312764), (55.475501567, -46.080312764))
            Line((55.475501567, -46.080312764), (55.475501567, 8.919687236))
            ThreePointArc((55.475501567, 8.919687236), (57.225501567, 10.669687236), (58.975501567, 8.919687236))
        make_face()
    extrude(amount=-CUT_EXTRUDE_12_DEPTH, mode=Mode.SUBTRACT)

    # 圆角1
    fillet_1_edges = [part.edges().sort_by_distance(p)[0] for p in [
        (75, 31.261343001, 1.5),
        (-75, 31.261343001, 1.5),
    ]]
    fillet(fillet_1_edges, radius=FILLET_1_R)

    # 圆角2
    fillet_2_edges = [part.edges().sort_by_distance(p)[0] for p in [
        (-75, 23.940028391, 1.5),
        (75, 23.940028391, 1.5),
    ]]
    fillet(fillet_2_edges, radius=FILLET_2_R)

    # 草图15 → 切除-拉伸13 (cut, through all)
    with BuildSketch(Plane(origin=(0, 0, 0), x_dir=(-1, 0, 0), z_dir=(0, 0, -1))):
        with BuildLine():
            Line((-61.184216401, 102.403501276), (-34.774762862, 118.900592756))
            ThreePointArc((-34.774762862, 118.900592756), (-32.70788159, 118.423097411), (-33.185376934, 116.356216138))
            Line((-33.185376934, 116.356216138), (-59.594830473, 99.859124658))
            ThreePointArc((-59.594830473, 99.859124658), (-61.661711746, 100.336620003), (-61.184216401, 102.403501276))
        make_face()
        with BuildLine():
            Line((59.594830473, 99.859124658), (33.185376934, 116.356216138))
            ThreePointArc((33.185376934, 116.356216138), (32.70788159, 118.423097411), (34.774762862, 118.900592756))
            Line((34.774762862, 118.900592756), (61.184216401, 102.403501276))
            ThreePointArc((61.184216401, 102.403501276), (61.661711746, 100.336620003), (59.594830473, 99.859124658))
        make_face()
    extrude(amount=-CUT_EXTRUDE_13_DEPTH, mode=Mode.SUBTRACT)

    # 草图17 → 切除-拉伸15 (cut, through all)
    with BuildSketch(Plane(origin=(0, 0, 0), x_dir=(-1, 0, 0), z_dir=(0, 0, -1))):
        Polygon((-28.645414283, -8.118433382), (-34.644957411, -20.11751964), (-34.644957411, -29.946558382), (-37.580904049, -29.946558382), (-37.580904049, -20.11751964), (-43.580447177, -8.118433382), (-40.64450054, -8.118433382), (-36.176755657, -17.43687271), (-36.049105803, -17.43687271), (-31.58136092, -8.118433382), align=None)
    extrude(amount=-CUT_EXTRUDE_15_DEPTH, mode=Mode.SUBTRACT)

    # 草图18 → 切除-拉伸16 (cut, through all)
    with BuildSketch(Plane(origin=(0, 0, 0), x_dir=(-1, 0, 0), z_dir=(0, 0, -1))):
        Polygon((46.06697123, -29.087529791), (43.131024593, -29.087529791), (43.131024593, -18.875541487), (35.854982926, -18.875541487), (35.854982926, -29.087529791), (32.919036289, -29.087529791), (32.919036289, -7.259404791), (35.854982926, -7.259404791), (35.854982926, -16.450194265), (43.131024593, -16.450194265), (43.131024593, -7.259404791), (46.06697123, -7.259404791), align=None)
    extrude(amount=-CUT_EXTRUDE_16_DEPTH, mode=Mode.SUBTRACT)

    # 草图20 → 凸台-拉伸2 (add)
    with BuildSketch(Plane(origin=(0, 0, 0), x_dir=(-1, 0, 0), z_dir=(0, 0, -1))):
        with Locations((0, 74.364849902)):
            Rectangle(SKETCH_20_W, SKETCH_20_H)
    extrude(amount=-EXTRUDE_2_DEPTH)

    # 草图21 → 凸台-拉伸3 (add)
    with BuildSketch(Plane(origin=(0, 0, 0), x_dir=(-1, 0, 0), z_dir=(0, 0, -1))):
        with Locations((-0.162688936, -75.817262983)):
            Rectangle(SKETCH_21_W, SKETCH_21_H)
    extrude(amount=-EXTRUDE_3_DEPTH)

    # 草图22 → 凸台-拉伸4 (add)
    with BuildSketch(Plane(origin=(0, 0, 0), x_dir=(-1, 0, 0), z_dir=(0, 0, -1))):
        with Locations((-36.28455521, -18.718035035)):
            Rectangle(SKETCH_22_W, SKETCH_22_H)
        with Locations((39.340924035, -18.16400222)):
            Rectangle(SKETCH_22_W_2, SKETCH_22_H_2)
    extrude(amount=-EXTRUDE_4_DEPTH)

    # 草图24 → 凸台-拉伸5 (add)
    with BuildSketch(Plane(origin=(0, 0, 0), x_dir=(-1, 0, 0), z_dir=(0, 0, -1))):
        with Locations((-46.84572901, 41.350914957)):
            Rectangle(SKETCH_24_W, SKETCH_24_H)
        with Locations((47.53599277, 41.350914957)):
            Rectangle(SKETCH_24_W_2, SKETCH_24_H)
    extrude(amount=-EXTRUDE_5_DEPTH)

    # 草图25 → 切除-拉伸17 (cut, through all)
    with BuildSketch(Plane(origin=(0, 0, 0), x_dir=(-1, 0, 0), z_dir=(0, 0, -1))):
        with BuildLine():
            Line((-14.658238954, 113.011343001), (-32.658238954, 113.011343001))
            ThreePointArc((-32.658238954, 113.011343001), (-34.408238954, 111.261343001), (-32.658238954, 109.511343001))
            Line((-32.658238954, 109.511343001), (-14.658238954, 109.511343001))
            ThreePointArc((-14.658238954, 109.511343001), (-12.908238954, 111.261343001), (-14.658238954, 113.011343001))
        make_face()
        with BuildLine():
            Line((-20.999999982, 43.011343001), (-32.658238954, 43.011343001))
            ThreePointArc((-32.658238954, 43.011343001), (-34.408238954, 41.261343001), (-32.658238954, 39.511343001))
            Line((-32.658238954, 39.511343001), (-21, 39.511343001))
            ThreePointArc((-21, 39.511343001), (-22.75, 41.26134301), (-20.999999982, 43.011343001))
        make_face()
        with BuildLine():
            ThreePointArc((14.341761046, 113.011343001), (12.591761046, 111.261343001), (14.341761046, 109.511343001))
            Line((14.341761046, 109.511343001), (32.341761046, 109.511343001))
            ThreePointArc((32.341761046, 109.511343001), (34.091761046, 111.261343001), (32.341761046, 113.011343001))
            Line((32.341761046, 113.011343001), (14.341761046, 113.011343001))
        make_face()
        with BuildLine():
            Line((-14.658238954, 43.011343001), (-20.999999982, 43.011343001))
            ThreePointArc((-20.999999982, 43.011343001), (-19.25, 41.261342991), (-21, 39.511343001))
            Line((-21, 39.511343001), (-14.658238954, 39.511343001))
            ThreePointArc((-14.658238954, 39.511343001), (-12.908238954, 41.261343001), (-14.658238954, 43.011343001))
        make_face()
        with BuildLine():
            ThreePointArc((32.341761046, 39.511343001), (34.091761046, 41.261343001), (32.341761046, 43.011343001))
            Line((32.341761046, 43.011343001), (21, 43.011343001))
            ThreePointArc((21, 43.011343001), (22.75, 41.261343001), (21, 39.511343001))
            Line((21, 39.511343001), (32.341761046, 39.511343001))
        make_face()
        with BuildLine():
            ThreePointArc((14.341761046, 43.011343001), (12.591761046, 41.261343001), (14.341761046, 39.511343001))
            Line((14.341761046, 39.511343001), (21, 39.511343001))
            ThreePointArc((21, 39.511343001), (19.25, 41.261343001), (21, 43.011343001))
            Line((21, 43.011343001), (14.341761046, 43.011343001))
        make_face()
    extrude(amount=-CUT_EXTRUDE_17_DEPTH, mode=Mode.SUBTRACT)

    # 草图16 → 切除-拉伸19 (cut, through all)
    with BuildSketch(Plane(origin=(0, 0, 0), x_dir=(-1, 0, 0), z_dir=(0, 0, -1))):
        with BuildLine():
            Line((-62, 43.011343001), (-32, 43.011343001))
            ThreePointArc((-32, 43.011343001), (-30.25, 41.261343001), (-32, 39.511343001))
            Line((-32, 39.511343001), (-62, 39.511343001))
            ThreePointArc((-62, 39.511343001), (-63.75, 41.261343001), (-62, 43.011343001))
        make_face()
        with BuildLine():
            Line((62, 39.511343001), (32, 39.511343001))
            ThreePointArc((32, 39.511343001), (30.25, 41.261343001), (32, 43.011343001))
            Line((32, 43.011343001), (62, 43.011343001))
            ThreePointArc((62, 43.011343001), (63.75, 41.261343001), (62, 39.511343001))
        make_face()
    extrude(amount=-CUT_EXTRUDE_19_DEPTH, mode=Mode.SUBTRACT)

    # 草图26 → 切除-拉伸20 (cut, through all)
    with BuildSketch(Plane(origin=(0, 0, 0), x_dir=(-1, 0, 0), z_dir=(0, 0, -1))):
        with BuildLine():
            Line((15, 71.876956146), (-15, 71.876956146))
            ThreePointArc((-15, 71.876956146), (-20, 76.876956146), (-15, 81.876956146))
            Line((-15, 81.876956146), (15, 81.876956146))
            ThreePointArc((15, 81.876956146), (20, 76.876956146), (15, 71.876956146))
        make_face()
    extrude(amount=-CUT_EXTRUDE_20_DEPTH, mode=Mode.SUBTRACT)

    # 草图27 → 切除-拉伸21 (cut, through all)
    with BuildSketch(Plane(origin=(0, 0, 0), x_dir=(-1, 0, 0), z_dir=(0, 0, -1))):
        with BuildLine():
            Line((-10, -15.809971609), (-42.5, -15.809971609))
            ThreePointArc((-42.5, -15.809971609), (-44.25, -17.559971609), (-42.5, -19.309971609))
            Line((-42.5, -19.309971609), (-10, -19.309971609))
            ThreePointArc((-10, -19.309971609), (-8.25, -17.559971609), (-10, -15.809971609))
        make_face()
        with BuildLine():
            ThreePointArc((-42.5, 7.190028391), (-44.25, 5.440028391), (-42.5, 3.690028391))
            Line((-42.5, 3.690028391), (-10, 3.690028391))
            ThreePointArc((-10, 3.690028391), (-8.25, 5.440028391), (-10, 7.190028391))
            Line((-10, 7.190028391), (-42.5, 7.190028391))
        make_face()
        with BuildLine():
            Line((42.5, -15.809971609), (10, -15.809971609))
            ThreePointArc((10, -15.809971609), (8.25, -17.559971609), (10, -19.309971609))
            Line((10, -19.309971609), (42.5, -19.309971609))
            ThreePointArc((42.5, -19.309971609), (44.25, -17.559971609), (42.5, -15.809971609))
        make_face()
        with BuildLine():
            Line((42.5, 7.190028391), (10, 7.190028391))
            ThreePointArc((10, 7.190028391), (8.25, 5.440028391), (10, 3.690028391))
            Line((10, 3.690028391), (42.5, 3.690028391))
            ThreePointArc((42.5, 3.690028391), (44.25, 5.440028391), (42.5, 7.190028391))
        make_face()
    extrude(amount=-CUT_EXTRUDE_21_DEPTH, mode=Mode.SUBTRACT)

    # 草图28 → 切除-拉伸22 (cut, through all)
    with BuildSketch(Plane(origin=(0, 0, 0), x_dir=(-1, 0, 0), z_dir=(0, 0, -1))):
        with BuildLine():
            ThreePointArc((0, -48.812330529), (-7.86916468, -46.39674179), (-10.284753419, -54.26590647))
            ThreePointArc((-10.284753419, -54.26590647), (-5.977554294, -59.915955393), (0, -63.755729058))
            ThreePointArc((0, -63.755729058), (5.977554294, -59.915955393), (10.284753419, -54.26590647))
            ThreePointArc((10.284753419, -54.26590647), (7.86916468, -46.39674179), (0, -48.812330529))
        make_face()
    extrude(amount=-CUT_EXTRUDE_22_DEPTH, mode=Mode.SUBTRACT)

    # 草图29 → 切除-拉伸23 (cut)
    with BuildSketch(Plane(origin=(0, 0, 0), x_dir=(-1, 0, 0), z_dir=(0, 0, -1))):
        with BuildLine():
            ThreePointArc((-21.368709037, -73.490793052), (0, -84.713248851), (21.368709037, -73.490793052))
            ThreePointArc((21.368709037, -73.490793052), (23.760053677, -73.051240341), (24.199606389, -75.442584981))
            ThreePointArc((24.199606389, -75.442584981), (0, -88.151776376), (-24.199606389, -75.442584981))
            ThreePointArc((-24.199606389, -75.442584981), (-23.760053677, -73.051240341), (-21.368709037, -73.490793052))
        make_face()
    extrude(amount=-CUT_EXTRUDE_23_DEPTH, mode=Mode.SUBTRACT)

    # 草图30 → 切除-拉伸24 (cut)
    with BuildSketch(Plane(origin=(0, 0, 0), x_dir=(-1, 0, 0), z_dir=(0, 0, -1))):
        with Locations((-6.729627317, 80.456828536)):
            Rectangle(SKETCH_30_W, SKETCH_30_H)
    extrude(amount=-CUT_EXTRUDE_24_DEPTH, mode=Mode.SUBTRACT)


solid = part.part
